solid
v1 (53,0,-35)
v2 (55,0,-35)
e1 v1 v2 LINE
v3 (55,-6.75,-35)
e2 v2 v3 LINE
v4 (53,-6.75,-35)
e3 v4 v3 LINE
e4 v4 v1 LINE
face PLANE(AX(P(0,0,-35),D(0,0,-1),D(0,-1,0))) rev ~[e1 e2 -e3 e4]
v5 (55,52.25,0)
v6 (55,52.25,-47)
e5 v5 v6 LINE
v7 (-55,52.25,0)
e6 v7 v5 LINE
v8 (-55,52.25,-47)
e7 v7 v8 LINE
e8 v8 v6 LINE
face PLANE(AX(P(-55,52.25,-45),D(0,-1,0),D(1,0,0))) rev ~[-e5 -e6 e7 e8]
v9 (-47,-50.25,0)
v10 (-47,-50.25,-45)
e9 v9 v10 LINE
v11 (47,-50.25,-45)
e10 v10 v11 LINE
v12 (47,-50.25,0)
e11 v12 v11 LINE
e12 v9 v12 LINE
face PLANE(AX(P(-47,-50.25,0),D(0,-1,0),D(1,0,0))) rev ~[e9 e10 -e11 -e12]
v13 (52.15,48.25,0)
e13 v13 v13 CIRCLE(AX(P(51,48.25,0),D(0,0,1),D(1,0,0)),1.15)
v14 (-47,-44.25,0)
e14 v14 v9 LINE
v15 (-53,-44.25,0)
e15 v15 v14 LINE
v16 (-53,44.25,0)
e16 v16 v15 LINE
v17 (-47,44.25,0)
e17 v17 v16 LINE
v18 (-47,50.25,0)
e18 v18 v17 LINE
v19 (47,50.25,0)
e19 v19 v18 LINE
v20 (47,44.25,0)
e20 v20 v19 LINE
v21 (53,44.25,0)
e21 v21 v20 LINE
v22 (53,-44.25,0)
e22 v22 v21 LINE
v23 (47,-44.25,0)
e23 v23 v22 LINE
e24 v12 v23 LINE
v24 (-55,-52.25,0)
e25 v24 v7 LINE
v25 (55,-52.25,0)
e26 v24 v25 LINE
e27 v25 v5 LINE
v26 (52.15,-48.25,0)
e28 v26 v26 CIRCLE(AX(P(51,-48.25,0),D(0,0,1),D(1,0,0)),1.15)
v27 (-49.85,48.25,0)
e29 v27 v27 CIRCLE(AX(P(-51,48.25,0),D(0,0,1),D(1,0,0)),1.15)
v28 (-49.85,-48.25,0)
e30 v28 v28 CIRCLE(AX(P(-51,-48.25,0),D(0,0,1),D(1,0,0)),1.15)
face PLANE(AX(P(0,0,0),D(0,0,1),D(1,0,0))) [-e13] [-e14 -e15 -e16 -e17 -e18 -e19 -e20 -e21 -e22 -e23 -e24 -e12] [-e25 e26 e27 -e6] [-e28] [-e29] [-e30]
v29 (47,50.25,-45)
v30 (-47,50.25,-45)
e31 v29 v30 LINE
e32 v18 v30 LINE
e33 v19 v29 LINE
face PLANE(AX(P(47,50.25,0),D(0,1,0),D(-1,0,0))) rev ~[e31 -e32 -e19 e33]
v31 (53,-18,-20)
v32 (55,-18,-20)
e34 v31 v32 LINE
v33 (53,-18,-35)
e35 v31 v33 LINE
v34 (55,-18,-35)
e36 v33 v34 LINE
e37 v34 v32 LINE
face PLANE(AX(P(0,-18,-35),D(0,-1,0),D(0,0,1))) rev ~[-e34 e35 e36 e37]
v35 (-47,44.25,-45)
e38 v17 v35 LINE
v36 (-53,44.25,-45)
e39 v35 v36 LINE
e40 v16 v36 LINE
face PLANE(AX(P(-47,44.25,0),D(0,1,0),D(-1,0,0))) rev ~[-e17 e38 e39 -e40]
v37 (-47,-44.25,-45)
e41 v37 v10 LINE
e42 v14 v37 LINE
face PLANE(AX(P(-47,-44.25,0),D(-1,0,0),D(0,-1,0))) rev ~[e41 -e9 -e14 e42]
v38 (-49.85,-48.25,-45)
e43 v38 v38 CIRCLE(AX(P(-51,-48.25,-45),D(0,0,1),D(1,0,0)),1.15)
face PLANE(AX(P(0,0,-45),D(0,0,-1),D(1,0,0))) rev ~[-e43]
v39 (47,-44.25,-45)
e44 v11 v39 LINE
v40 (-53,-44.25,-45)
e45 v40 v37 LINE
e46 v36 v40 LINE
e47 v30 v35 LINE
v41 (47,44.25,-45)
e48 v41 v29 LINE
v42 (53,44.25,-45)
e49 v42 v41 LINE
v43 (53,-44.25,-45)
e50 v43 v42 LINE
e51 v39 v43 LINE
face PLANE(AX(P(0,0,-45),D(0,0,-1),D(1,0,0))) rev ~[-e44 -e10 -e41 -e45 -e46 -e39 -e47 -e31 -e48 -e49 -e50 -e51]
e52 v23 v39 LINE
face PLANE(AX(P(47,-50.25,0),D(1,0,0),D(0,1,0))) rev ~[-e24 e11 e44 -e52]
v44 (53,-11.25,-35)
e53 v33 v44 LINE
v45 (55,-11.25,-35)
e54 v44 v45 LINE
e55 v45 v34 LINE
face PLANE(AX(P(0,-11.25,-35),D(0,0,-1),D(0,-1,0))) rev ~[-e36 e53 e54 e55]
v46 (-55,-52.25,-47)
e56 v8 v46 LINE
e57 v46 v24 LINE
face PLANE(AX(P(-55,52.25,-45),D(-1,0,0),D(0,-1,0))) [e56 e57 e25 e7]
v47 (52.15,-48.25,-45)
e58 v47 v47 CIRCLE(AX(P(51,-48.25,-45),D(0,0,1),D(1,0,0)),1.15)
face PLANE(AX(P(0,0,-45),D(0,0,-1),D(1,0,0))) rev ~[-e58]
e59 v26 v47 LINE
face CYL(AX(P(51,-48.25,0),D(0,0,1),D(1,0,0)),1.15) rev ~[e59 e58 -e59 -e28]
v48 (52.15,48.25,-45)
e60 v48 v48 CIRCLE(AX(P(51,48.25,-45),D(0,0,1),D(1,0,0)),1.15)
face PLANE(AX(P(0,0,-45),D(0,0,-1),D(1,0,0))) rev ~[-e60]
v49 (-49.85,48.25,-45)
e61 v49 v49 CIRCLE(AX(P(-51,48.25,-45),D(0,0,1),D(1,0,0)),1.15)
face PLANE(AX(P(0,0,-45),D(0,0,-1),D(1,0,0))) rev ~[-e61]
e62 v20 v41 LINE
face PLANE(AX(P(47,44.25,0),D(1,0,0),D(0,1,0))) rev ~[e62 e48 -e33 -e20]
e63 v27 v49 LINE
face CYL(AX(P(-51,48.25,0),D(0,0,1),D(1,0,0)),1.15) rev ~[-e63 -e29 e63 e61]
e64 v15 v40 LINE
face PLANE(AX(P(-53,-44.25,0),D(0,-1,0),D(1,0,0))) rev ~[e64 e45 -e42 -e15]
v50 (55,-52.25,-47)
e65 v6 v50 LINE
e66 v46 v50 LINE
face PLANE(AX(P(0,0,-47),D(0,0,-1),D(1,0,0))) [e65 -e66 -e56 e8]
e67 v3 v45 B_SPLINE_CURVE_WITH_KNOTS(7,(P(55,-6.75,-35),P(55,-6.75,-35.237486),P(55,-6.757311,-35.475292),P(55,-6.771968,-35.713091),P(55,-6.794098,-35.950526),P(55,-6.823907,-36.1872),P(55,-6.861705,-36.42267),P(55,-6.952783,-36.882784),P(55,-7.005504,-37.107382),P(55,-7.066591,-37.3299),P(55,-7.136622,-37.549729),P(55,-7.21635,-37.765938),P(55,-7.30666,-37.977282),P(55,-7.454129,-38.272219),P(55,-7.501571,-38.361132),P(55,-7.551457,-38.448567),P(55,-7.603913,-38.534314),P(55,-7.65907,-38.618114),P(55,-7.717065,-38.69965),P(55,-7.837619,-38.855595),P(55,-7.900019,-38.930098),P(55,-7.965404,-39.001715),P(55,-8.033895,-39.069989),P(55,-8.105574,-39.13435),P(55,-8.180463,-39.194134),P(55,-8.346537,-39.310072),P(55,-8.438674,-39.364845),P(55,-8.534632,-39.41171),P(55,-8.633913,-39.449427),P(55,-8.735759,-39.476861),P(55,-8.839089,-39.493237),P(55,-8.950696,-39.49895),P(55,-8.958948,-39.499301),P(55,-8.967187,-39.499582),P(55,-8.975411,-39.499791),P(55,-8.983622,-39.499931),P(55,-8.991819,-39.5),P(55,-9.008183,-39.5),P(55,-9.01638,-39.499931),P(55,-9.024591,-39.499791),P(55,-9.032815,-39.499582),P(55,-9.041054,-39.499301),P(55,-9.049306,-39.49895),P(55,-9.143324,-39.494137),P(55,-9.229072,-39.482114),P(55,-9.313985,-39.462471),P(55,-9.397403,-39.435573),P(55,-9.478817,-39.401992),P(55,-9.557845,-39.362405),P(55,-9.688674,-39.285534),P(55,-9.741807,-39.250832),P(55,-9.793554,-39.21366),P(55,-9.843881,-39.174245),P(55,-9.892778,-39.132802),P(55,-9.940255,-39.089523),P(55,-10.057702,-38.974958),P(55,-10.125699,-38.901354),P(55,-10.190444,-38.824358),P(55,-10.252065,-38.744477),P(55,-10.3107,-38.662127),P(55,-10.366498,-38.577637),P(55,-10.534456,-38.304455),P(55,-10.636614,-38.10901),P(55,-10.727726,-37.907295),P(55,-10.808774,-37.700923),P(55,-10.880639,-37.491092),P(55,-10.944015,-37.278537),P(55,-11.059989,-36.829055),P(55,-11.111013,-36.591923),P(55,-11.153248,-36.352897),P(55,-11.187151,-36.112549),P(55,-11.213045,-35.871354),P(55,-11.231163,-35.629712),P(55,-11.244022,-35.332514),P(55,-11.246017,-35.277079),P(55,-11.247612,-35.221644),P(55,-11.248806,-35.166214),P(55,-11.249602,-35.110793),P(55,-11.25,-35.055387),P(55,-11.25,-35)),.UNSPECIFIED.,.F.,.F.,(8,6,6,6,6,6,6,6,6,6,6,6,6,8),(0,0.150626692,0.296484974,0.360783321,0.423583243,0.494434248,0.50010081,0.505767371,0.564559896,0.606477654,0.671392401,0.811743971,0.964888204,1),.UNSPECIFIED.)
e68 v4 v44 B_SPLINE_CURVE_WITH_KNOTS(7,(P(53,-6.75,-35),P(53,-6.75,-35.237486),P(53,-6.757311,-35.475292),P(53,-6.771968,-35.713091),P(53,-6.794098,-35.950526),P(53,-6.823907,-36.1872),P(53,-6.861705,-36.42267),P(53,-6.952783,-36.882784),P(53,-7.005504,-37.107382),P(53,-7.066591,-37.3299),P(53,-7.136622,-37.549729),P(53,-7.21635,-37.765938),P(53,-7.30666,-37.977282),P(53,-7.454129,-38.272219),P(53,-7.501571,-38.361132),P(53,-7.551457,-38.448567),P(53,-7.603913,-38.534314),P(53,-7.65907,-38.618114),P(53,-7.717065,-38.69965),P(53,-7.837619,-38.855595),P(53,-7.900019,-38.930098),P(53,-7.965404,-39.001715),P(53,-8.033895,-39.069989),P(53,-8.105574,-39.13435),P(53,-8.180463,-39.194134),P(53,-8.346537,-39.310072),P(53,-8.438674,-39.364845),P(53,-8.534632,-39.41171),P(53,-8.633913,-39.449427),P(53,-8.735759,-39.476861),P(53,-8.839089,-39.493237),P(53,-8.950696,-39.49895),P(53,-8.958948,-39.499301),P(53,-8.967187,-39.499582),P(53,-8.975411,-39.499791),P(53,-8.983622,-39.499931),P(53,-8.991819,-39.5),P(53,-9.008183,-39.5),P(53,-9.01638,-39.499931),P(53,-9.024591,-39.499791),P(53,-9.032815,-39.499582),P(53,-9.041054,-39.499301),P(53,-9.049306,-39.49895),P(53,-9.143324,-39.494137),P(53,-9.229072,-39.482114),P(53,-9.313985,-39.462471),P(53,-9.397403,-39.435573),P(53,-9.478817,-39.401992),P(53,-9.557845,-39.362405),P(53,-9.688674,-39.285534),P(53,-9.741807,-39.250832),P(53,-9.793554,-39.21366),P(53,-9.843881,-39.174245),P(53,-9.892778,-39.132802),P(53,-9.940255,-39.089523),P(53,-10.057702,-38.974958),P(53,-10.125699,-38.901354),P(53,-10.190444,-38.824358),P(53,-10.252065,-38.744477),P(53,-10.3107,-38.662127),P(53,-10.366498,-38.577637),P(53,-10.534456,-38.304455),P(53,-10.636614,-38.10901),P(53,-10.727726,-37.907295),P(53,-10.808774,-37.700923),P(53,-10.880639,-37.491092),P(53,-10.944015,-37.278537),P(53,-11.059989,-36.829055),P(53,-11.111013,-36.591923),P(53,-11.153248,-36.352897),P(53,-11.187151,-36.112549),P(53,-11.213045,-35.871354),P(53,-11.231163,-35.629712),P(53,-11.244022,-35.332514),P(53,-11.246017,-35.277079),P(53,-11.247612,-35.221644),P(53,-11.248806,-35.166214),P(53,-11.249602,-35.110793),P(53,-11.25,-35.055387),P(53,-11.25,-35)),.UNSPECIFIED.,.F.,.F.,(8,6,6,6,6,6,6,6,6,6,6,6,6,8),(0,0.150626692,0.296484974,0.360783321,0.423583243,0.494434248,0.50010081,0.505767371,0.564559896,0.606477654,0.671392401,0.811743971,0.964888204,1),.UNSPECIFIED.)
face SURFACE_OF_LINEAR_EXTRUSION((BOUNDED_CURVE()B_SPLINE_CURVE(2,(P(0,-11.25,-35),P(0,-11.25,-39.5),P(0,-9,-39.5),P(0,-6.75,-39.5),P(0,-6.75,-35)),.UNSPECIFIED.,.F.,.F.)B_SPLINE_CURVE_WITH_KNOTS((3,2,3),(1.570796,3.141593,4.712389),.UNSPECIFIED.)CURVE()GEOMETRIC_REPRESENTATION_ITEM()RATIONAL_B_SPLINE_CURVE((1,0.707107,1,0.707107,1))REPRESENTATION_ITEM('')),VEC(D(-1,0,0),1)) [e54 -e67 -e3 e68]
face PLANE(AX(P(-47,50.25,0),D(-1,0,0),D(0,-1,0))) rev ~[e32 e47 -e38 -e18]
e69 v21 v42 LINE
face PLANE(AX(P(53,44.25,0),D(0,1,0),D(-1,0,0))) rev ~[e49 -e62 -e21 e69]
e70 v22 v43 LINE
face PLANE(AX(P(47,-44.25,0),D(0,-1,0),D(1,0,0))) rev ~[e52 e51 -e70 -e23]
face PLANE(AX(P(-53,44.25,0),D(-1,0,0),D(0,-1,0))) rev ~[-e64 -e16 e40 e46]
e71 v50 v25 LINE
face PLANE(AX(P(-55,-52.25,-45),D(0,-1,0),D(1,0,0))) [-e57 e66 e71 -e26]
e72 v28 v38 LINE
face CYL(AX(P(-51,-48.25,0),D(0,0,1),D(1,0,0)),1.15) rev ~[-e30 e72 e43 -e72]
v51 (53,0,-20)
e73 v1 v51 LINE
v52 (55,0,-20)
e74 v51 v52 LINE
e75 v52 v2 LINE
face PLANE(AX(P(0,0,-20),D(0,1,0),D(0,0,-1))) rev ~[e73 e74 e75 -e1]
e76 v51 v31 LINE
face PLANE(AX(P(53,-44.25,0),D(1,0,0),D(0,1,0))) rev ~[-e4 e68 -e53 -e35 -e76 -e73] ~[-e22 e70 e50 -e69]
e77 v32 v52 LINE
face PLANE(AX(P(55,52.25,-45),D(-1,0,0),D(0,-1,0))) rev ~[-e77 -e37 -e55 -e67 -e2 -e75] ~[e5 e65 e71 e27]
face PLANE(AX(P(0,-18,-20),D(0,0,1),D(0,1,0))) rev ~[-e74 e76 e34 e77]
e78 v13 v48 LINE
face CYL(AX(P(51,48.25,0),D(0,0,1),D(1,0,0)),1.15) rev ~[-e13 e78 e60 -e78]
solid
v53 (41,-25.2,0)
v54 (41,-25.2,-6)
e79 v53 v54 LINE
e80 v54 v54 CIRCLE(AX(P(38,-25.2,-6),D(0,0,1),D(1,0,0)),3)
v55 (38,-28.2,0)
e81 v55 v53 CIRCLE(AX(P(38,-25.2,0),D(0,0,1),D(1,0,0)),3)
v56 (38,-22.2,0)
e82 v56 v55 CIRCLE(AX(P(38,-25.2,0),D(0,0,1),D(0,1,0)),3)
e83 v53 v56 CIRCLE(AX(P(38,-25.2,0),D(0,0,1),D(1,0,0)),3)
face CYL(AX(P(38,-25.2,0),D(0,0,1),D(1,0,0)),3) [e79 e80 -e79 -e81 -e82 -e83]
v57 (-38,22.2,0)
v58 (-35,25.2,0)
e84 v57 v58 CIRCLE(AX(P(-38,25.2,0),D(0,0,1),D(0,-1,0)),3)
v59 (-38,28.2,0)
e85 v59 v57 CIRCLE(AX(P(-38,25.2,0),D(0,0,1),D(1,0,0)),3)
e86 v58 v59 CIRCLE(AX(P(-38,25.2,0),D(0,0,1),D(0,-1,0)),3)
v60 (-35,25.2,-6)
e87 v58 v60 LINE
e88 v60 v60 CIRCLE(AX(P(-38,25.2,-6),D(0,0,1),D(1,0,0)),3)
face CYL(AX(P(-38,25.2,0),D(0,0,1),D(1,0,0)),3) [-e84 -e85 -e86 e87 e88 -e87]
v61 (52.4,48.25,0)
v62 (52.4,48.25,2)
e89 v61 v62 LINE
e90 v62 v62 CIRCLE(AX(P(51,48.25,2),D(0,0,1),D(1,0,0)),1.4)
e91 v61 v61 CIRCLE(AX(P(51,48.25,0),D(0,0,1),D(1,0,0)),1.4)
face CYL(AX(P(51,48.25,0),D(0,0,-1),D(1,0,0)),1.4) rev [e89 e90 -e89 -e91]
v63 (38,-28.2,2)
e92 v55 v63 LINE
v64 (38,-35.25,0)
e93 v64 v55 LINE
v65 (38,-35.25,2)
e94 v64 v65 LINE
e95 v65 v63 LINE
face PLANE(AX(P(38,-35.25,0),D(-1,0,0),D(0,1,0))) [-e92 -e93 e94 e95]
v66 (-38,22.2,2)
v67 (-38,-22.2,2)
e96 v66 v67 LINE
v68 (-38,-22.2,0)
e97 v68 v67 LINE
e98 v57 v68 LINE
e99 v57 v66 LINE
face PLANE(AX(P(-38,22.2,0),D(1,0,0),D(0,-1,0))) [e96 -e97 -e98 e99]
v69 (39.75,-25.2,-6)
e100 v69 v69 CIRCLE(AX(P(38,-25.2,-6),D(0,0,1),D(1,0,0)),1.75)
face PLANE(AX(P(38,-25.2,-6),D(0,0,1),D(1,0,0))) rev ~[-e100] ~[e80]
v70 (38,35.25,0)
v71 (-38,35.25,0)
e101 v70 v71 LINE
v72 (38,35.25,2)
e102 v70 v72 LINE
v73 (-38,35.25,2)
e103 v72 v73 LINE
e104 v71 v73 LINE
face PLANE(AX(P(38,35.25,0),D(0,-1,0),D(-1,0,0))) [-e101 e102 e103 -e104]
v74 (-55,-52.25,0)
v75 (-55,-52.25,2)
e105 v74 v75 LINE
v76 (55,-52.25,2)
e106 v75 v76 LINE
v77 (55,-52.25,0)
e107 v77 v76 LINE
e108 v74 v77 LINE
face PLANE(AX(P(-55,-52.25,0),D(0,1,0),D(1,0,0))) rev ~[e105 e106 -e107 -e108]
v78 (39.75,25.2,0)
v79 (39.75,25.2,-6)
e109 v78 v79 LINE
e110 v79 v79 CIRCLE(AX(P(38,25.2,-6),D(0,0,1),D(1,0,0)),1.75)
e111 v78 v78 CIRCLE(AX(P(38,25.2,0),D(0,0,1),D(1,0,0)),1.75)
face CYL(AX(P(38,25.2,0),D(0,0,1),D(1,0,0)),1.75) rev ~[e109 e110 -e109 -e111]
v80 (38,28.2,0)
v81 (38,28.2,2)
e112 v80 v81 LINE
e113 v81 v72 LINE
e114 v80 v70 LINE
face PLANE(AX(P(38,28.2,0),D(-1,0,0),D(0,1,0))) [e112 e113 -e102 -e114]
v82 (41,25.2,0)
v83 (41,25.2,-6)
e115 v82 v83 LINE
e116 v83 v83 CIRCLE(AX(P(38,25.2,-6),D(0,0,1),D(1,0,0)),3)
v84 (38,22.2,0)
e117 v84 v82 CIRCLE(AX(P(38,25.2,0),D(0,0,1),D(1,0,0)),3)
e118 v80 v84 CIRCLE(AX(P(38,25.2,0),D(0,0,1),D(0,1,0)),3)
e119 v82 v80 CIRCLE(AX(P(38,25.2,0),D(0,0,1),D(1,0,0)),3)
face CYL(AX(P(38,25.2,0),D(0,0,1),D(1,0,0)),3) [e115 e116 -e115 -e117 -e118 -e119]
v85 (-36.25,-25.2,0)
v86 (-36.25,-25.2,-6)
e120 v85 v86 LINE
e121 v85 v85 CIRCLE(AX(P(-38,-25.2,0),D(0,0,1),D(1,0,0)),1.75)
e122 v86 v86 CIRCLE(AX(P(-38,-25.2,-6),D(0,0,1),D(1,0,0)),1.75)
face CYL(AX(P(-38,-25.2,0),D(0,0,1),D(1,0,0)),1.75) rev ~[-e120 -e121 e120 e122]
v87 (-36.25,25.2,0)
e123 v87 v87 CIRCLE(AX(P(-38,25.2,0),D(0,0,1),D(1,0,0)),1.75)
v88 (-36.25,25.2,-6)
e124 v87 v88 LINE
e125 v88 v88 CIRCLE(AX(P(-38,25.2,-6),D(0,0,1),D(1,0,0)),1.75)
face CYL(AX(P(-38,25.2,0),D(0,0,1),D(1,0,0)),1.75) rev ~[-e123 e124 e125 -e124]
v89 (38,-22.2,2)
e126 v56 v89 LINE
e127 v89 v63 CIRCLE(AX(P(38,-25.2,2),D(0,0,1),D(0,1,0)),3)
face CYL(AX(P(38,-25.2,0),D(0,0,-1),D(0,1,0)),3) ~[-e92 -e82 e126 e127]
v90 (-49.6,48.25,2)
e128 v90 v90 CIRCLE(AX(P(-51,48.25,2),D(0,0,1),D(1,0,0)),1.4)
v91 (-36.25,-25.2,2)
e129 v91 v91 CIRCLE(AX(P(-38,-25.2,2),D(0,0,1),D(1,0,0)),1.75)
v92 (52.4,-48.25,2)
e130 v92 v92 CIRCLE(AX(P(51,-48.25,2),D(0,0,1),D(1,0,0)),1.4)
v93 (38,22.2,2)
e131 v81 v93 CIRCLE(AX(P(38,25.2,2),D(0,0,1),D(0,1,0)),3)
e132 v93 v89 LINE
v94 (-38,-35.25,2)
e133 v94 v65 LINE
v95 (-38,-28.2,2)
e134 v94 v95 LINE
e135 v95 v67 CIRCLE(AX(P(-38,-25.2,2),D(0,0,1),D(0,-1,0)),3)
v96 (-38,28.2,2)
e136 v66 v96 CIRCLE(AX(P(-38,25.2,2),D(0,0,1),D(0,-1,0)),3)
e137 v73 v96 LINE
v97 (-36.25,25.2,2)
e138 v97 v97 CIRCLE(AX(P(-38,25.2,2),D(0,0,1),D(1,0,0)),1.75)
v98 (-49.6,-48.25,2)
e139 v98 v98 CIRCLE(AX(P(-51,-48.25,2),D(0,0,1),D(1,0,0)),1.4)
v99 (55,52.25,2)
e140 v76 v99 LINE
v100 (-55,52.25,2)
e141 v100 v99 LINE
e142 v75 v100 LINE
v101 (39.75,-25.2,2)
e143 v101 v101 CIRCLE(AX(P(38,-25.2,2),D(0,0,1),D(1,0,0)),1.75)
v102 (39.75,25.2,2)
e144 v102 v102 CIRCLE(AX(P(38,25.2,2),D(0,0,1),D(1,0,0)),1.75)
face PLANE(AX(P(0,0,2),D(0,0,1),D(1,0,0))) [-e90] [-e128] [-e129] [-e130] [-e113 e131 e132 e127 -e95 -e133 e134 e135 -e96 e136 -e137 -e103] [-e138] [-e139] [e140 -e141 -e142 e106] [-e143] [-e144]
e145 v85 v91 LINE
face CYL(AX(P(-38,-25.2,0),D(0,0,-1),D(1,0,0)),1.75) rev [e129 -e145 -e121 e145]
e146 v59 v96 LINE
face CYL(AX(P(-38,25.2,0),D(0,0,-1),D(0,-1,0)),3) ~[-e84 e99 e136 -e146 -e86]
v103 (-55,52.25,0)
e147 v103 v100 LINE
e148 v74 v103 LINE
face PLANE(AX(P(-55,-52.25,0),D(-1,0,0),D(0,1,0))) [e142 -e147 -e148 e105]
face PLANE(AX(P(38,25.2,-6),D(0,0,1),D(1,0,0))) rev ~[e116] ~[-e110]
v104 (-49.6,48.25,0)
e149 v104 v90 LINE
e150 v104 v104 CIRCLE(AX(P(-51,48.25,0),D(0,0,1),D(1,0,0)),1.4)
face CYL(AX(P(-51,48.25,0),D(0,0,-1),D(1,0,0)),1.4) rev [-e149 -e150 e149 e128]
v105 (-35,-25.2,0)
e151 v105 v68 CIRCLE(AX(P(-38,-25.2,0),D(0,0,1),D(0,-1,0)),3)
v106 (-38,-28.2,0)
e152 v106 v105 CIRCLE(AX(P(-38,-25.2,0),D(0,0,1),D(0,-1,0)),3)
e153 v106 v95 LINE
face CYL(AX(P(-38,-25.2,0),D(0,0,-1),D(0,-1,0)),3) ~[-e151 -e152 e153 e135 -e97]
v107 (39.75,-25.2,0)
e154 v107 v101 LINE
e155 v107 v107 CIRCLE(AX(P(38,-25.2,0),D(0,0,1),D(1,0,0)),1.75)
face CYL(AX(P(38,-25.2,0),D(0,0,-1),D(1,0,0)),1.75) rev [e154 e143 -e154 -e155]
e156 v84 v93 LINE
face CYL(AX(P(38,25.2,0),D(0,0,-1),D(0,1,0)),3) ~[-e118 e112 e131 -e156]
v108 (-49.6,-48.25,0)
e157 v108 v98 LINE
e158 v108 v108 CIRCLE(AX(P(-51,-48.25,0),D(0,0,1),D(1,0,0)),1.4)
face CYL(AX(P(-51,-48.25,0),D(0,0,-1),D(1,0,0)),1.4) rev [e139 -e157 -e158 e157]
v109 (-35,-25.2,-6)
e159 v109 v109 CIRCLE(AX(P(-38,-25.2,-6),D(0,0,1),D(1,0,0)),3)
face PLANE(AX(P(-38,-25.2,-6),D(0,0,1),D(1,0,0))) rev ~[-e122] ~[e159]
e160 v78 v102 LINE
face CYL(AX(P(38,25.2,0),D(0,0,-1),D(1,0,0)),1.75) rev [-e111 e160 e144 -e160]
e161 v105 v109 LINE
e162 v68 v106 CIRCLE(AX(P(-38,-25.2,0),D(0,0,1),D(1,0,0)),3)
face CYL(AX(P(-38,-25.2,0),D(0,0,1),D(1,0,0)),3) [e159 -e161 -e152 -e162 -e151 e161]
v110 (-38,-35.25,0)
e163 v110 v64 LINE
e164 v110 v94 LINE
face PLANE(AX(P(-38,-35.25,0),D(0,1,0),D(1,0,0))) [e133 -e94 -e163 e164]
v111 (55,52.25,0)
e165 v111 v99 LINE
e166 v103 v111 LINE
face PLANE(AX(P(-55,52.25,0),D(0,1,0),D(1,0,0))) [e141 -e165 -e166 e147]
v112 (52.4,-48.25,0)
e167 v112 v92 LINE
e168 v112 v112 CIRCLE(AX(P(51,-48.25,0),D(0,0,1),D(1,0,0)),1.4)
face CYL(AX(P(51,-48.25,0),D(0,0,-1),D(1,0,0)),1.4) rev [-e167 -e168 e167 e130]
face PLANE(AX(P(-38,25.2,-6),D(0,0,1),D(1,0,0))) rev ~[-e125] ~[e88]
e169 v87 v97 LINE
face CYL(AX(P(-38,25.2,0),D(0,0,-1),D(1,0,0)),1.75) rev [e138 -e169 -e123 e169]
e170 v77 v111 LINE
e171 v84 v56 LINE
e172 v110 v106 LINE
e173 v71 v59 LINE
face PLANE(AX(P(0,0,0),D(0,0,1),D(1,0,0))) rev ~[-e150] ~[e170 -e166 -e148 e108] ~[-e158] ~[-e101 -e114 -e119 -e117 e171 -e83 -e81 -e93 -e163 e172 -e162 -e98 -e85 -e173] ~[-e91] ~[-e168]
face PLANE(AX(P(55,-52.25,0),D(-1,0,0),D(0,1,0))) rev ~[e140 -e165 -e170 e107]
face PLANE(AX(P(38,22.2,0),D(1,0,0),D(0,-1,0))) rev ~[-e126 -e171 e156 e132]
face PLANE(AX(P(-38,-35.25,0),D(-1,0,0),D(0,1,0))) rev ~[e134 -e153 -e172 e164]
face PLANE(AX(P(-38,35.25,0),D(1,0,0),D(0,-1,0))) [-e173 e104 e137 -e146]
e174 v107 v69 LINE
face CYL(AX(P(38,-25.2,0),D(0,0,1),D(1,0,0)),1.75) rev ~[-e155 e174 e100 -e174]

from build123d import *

# Parameters (mm, degrees)
SKETCH_W      = 110
SKETCH_H      = 104.5
SKETCH_R      = 1.75
SKETCH_R_2    = 1.4
PAD_DEPTH     = 2
SKETCH001_R   = 3
SKETCH001_R_2 = 1.75
PAD001_DEPTH  = 6
SKETCH002_W   = 110
SKETCH002_H   = 104.5
SKETCH002_R   = 1.15
PAD002_DEPTH  = 45
SKETCH003_W   = 110
SKETCH003_H   = 104.5
PAD003_DEPTH  = 2
POCKET_DEPTH  = 55.001


with BuildPart() as faceplate:
    # Sketch → Pad (new body)
    with BuildSketch(Plane.XY):
        Rectangle(SKETCH_W, SKETCH_H)
        with Locations((-38, 25.2)):
            Circle(SKETCH_R, mode=Mode.SUBTRACT)
        with Locations((38, 25.2)):
            Circle(SKETCH_R, mode=Mode.SUBTRACT)
        with Locations((-38, -25.2)):
            Circle(SKETCH_R, mode=Mode.SUBTRACT)
        with Locations((38, -25.2)):
            Circle(SKETCH_R, mode=Mode.SUBTRACT)
        with Locations((-51, 48.25)):
            Circle(SKETCH_R_2, mode=Mode.SUBTRACT)
        with Locations((51, 48.25)):
            Circle(SKETCH_R_2, mode=Mode.SUBTRACT)
        with Locations((-51, -48.25)):
            Circle(SKETCH_R_2, mode=Mode.SUBTRACT)
        with Locations((51, -48.25)):
            Circle(SKETCH_R_2, mode=Mode.SUBTRACT)
        with BuildLine():
            Line((38, 28.2), (38, 35.25))
            Line((38, 35.25), (-38, 35.25))
            Line((-38, 35.25), (-38, 28.2))
            ThreePointArc((-38, 22.2), (-35, 25.2), (-38, 28.2))
            Line((-38, 22.2), (-38, -22.2))
            ThreePointArc((-38, -28.2), (-35, -25.2), (-38, -22.2))
            Line((-38, -35.25), (-38, -28.2))
            Line((-38, -35.25), (38, -35.25))
            Line((38, -35.25), (38, -28.2))
            ThreePointArc((38, -22.2), (35, -25.2), (38, -28.2))
            Line((38, 22.2), (38, -22.2))
            ThreePointArc((38, 28.2), (35, 25.2), (38, 22.2))
        make_face(mode=Mode.SUBTRACT)
    extrude(amount=PAD_DEPTH)

    # Sketch001 → Pad001 (join)
    with BuildSketch(Plane.XY):
        with Locations((-38, 25.2)):
            Circle(SKETCH001_R)
        with Locations((-38, 25.2)):
            Circle(SKETCH001_R_2, mode=Mode.SUBTRACT)
        with Locations((38, -25.2)):
            Circle(SKETCH001_R)
        with Locations((38, -25.2)):
            Circle(SKETCH001_R_2, mode=Mode.SUBTRACT)
        with Locations((-38, -25.2)):
            Circle(SKETCH001_R)
        with Locations((-38, -25.2)):
            Circle(SKETCH001_R_2, mode=Mode.SUBTRACT)
        with Locations((38, 25.2)):
            Circle(SKETCH001_R)
        with Locations((38, 25.2)):
            Circle(SKETCH001_R_2, mode=Mode.SUBTRACT)
    extrude(amount=-PAD001_DEPTH)


with BuildPart() as box:
    # Sketch002 → Pad002 (new body)
    with BuildSketch(Plane.XY):
        Rectangle(SKETCH002_W, SKETCH002_H)
        with Locations((-51, 48.25)):
            Circle(SKETCH002_R, mode=Mode.SUBTRACT)
        with Locations((-51, -48.25)):
            Circle(SKETCH002_R, mode=Mode.SUBTRACT)
        with Locations((51, -48.25)):
            Circle(SKETCH002_R, mode=Mode.SUBTRACT)
        with Locations((51, 48.25)):
            Circle(SKETCH002_R, mode=Mode.SUBTRACT)
        Polygon((47, 50.25), (-47, 50.25), (-47, 44.25), (-53, 44.25), (-53, -44.25), (-47, -44.25), (-47, -50.25), (47, -50.25), (47, -44.25), (53, -44.25), (53, 44.25), (47, 44.25), align=None, mode=Mode.SUBTRACT)
    extrude(amount=-PAD002_DEPTH)

    # Sketch003 (on Face22 of Pad002) → Pad003 (join)
    with BuildSketch(Plane(origin=(0, 0, -45), x_dir=(1, 0, 0), z_dir=(0, 0, -1))):
        Rectangle(SKETCH003_W, SKETCH003_H)
    extrude(amount=PAD003_DEPTH)

    # Sketch004 → Pocket (cut, through all)
    with BuildSketch(Plane.YZ):
        with BuildLine():
            Line((-18, -20), (0, -20))
            Line((0, -20), (0, -35))
            Line((0, -35), (-6.75, -35))
            add(Edge.make_bspline(
                [(-11.25, -35), (-11.25, -39.5), (-9, -39.5), (-6.75, -39.5), (-6.75, -35)],
                knots=[1.570796, 1.570796, 1.570796, 3.141593, 3.141593, 4.712389, 4.712389, 4.712389], degree=2, weights=[1, 0.707107, 1, 0.707107, 1]))
            Line((-11.25, -35), (-18, -35))
            Line((-18, -35), (-18, -20))
        make_face()
    extrude(amount=POCKET_DEPTH, mode=Mode.SUBTRACT)


solid = Compound([faceplate.part, box.part])
